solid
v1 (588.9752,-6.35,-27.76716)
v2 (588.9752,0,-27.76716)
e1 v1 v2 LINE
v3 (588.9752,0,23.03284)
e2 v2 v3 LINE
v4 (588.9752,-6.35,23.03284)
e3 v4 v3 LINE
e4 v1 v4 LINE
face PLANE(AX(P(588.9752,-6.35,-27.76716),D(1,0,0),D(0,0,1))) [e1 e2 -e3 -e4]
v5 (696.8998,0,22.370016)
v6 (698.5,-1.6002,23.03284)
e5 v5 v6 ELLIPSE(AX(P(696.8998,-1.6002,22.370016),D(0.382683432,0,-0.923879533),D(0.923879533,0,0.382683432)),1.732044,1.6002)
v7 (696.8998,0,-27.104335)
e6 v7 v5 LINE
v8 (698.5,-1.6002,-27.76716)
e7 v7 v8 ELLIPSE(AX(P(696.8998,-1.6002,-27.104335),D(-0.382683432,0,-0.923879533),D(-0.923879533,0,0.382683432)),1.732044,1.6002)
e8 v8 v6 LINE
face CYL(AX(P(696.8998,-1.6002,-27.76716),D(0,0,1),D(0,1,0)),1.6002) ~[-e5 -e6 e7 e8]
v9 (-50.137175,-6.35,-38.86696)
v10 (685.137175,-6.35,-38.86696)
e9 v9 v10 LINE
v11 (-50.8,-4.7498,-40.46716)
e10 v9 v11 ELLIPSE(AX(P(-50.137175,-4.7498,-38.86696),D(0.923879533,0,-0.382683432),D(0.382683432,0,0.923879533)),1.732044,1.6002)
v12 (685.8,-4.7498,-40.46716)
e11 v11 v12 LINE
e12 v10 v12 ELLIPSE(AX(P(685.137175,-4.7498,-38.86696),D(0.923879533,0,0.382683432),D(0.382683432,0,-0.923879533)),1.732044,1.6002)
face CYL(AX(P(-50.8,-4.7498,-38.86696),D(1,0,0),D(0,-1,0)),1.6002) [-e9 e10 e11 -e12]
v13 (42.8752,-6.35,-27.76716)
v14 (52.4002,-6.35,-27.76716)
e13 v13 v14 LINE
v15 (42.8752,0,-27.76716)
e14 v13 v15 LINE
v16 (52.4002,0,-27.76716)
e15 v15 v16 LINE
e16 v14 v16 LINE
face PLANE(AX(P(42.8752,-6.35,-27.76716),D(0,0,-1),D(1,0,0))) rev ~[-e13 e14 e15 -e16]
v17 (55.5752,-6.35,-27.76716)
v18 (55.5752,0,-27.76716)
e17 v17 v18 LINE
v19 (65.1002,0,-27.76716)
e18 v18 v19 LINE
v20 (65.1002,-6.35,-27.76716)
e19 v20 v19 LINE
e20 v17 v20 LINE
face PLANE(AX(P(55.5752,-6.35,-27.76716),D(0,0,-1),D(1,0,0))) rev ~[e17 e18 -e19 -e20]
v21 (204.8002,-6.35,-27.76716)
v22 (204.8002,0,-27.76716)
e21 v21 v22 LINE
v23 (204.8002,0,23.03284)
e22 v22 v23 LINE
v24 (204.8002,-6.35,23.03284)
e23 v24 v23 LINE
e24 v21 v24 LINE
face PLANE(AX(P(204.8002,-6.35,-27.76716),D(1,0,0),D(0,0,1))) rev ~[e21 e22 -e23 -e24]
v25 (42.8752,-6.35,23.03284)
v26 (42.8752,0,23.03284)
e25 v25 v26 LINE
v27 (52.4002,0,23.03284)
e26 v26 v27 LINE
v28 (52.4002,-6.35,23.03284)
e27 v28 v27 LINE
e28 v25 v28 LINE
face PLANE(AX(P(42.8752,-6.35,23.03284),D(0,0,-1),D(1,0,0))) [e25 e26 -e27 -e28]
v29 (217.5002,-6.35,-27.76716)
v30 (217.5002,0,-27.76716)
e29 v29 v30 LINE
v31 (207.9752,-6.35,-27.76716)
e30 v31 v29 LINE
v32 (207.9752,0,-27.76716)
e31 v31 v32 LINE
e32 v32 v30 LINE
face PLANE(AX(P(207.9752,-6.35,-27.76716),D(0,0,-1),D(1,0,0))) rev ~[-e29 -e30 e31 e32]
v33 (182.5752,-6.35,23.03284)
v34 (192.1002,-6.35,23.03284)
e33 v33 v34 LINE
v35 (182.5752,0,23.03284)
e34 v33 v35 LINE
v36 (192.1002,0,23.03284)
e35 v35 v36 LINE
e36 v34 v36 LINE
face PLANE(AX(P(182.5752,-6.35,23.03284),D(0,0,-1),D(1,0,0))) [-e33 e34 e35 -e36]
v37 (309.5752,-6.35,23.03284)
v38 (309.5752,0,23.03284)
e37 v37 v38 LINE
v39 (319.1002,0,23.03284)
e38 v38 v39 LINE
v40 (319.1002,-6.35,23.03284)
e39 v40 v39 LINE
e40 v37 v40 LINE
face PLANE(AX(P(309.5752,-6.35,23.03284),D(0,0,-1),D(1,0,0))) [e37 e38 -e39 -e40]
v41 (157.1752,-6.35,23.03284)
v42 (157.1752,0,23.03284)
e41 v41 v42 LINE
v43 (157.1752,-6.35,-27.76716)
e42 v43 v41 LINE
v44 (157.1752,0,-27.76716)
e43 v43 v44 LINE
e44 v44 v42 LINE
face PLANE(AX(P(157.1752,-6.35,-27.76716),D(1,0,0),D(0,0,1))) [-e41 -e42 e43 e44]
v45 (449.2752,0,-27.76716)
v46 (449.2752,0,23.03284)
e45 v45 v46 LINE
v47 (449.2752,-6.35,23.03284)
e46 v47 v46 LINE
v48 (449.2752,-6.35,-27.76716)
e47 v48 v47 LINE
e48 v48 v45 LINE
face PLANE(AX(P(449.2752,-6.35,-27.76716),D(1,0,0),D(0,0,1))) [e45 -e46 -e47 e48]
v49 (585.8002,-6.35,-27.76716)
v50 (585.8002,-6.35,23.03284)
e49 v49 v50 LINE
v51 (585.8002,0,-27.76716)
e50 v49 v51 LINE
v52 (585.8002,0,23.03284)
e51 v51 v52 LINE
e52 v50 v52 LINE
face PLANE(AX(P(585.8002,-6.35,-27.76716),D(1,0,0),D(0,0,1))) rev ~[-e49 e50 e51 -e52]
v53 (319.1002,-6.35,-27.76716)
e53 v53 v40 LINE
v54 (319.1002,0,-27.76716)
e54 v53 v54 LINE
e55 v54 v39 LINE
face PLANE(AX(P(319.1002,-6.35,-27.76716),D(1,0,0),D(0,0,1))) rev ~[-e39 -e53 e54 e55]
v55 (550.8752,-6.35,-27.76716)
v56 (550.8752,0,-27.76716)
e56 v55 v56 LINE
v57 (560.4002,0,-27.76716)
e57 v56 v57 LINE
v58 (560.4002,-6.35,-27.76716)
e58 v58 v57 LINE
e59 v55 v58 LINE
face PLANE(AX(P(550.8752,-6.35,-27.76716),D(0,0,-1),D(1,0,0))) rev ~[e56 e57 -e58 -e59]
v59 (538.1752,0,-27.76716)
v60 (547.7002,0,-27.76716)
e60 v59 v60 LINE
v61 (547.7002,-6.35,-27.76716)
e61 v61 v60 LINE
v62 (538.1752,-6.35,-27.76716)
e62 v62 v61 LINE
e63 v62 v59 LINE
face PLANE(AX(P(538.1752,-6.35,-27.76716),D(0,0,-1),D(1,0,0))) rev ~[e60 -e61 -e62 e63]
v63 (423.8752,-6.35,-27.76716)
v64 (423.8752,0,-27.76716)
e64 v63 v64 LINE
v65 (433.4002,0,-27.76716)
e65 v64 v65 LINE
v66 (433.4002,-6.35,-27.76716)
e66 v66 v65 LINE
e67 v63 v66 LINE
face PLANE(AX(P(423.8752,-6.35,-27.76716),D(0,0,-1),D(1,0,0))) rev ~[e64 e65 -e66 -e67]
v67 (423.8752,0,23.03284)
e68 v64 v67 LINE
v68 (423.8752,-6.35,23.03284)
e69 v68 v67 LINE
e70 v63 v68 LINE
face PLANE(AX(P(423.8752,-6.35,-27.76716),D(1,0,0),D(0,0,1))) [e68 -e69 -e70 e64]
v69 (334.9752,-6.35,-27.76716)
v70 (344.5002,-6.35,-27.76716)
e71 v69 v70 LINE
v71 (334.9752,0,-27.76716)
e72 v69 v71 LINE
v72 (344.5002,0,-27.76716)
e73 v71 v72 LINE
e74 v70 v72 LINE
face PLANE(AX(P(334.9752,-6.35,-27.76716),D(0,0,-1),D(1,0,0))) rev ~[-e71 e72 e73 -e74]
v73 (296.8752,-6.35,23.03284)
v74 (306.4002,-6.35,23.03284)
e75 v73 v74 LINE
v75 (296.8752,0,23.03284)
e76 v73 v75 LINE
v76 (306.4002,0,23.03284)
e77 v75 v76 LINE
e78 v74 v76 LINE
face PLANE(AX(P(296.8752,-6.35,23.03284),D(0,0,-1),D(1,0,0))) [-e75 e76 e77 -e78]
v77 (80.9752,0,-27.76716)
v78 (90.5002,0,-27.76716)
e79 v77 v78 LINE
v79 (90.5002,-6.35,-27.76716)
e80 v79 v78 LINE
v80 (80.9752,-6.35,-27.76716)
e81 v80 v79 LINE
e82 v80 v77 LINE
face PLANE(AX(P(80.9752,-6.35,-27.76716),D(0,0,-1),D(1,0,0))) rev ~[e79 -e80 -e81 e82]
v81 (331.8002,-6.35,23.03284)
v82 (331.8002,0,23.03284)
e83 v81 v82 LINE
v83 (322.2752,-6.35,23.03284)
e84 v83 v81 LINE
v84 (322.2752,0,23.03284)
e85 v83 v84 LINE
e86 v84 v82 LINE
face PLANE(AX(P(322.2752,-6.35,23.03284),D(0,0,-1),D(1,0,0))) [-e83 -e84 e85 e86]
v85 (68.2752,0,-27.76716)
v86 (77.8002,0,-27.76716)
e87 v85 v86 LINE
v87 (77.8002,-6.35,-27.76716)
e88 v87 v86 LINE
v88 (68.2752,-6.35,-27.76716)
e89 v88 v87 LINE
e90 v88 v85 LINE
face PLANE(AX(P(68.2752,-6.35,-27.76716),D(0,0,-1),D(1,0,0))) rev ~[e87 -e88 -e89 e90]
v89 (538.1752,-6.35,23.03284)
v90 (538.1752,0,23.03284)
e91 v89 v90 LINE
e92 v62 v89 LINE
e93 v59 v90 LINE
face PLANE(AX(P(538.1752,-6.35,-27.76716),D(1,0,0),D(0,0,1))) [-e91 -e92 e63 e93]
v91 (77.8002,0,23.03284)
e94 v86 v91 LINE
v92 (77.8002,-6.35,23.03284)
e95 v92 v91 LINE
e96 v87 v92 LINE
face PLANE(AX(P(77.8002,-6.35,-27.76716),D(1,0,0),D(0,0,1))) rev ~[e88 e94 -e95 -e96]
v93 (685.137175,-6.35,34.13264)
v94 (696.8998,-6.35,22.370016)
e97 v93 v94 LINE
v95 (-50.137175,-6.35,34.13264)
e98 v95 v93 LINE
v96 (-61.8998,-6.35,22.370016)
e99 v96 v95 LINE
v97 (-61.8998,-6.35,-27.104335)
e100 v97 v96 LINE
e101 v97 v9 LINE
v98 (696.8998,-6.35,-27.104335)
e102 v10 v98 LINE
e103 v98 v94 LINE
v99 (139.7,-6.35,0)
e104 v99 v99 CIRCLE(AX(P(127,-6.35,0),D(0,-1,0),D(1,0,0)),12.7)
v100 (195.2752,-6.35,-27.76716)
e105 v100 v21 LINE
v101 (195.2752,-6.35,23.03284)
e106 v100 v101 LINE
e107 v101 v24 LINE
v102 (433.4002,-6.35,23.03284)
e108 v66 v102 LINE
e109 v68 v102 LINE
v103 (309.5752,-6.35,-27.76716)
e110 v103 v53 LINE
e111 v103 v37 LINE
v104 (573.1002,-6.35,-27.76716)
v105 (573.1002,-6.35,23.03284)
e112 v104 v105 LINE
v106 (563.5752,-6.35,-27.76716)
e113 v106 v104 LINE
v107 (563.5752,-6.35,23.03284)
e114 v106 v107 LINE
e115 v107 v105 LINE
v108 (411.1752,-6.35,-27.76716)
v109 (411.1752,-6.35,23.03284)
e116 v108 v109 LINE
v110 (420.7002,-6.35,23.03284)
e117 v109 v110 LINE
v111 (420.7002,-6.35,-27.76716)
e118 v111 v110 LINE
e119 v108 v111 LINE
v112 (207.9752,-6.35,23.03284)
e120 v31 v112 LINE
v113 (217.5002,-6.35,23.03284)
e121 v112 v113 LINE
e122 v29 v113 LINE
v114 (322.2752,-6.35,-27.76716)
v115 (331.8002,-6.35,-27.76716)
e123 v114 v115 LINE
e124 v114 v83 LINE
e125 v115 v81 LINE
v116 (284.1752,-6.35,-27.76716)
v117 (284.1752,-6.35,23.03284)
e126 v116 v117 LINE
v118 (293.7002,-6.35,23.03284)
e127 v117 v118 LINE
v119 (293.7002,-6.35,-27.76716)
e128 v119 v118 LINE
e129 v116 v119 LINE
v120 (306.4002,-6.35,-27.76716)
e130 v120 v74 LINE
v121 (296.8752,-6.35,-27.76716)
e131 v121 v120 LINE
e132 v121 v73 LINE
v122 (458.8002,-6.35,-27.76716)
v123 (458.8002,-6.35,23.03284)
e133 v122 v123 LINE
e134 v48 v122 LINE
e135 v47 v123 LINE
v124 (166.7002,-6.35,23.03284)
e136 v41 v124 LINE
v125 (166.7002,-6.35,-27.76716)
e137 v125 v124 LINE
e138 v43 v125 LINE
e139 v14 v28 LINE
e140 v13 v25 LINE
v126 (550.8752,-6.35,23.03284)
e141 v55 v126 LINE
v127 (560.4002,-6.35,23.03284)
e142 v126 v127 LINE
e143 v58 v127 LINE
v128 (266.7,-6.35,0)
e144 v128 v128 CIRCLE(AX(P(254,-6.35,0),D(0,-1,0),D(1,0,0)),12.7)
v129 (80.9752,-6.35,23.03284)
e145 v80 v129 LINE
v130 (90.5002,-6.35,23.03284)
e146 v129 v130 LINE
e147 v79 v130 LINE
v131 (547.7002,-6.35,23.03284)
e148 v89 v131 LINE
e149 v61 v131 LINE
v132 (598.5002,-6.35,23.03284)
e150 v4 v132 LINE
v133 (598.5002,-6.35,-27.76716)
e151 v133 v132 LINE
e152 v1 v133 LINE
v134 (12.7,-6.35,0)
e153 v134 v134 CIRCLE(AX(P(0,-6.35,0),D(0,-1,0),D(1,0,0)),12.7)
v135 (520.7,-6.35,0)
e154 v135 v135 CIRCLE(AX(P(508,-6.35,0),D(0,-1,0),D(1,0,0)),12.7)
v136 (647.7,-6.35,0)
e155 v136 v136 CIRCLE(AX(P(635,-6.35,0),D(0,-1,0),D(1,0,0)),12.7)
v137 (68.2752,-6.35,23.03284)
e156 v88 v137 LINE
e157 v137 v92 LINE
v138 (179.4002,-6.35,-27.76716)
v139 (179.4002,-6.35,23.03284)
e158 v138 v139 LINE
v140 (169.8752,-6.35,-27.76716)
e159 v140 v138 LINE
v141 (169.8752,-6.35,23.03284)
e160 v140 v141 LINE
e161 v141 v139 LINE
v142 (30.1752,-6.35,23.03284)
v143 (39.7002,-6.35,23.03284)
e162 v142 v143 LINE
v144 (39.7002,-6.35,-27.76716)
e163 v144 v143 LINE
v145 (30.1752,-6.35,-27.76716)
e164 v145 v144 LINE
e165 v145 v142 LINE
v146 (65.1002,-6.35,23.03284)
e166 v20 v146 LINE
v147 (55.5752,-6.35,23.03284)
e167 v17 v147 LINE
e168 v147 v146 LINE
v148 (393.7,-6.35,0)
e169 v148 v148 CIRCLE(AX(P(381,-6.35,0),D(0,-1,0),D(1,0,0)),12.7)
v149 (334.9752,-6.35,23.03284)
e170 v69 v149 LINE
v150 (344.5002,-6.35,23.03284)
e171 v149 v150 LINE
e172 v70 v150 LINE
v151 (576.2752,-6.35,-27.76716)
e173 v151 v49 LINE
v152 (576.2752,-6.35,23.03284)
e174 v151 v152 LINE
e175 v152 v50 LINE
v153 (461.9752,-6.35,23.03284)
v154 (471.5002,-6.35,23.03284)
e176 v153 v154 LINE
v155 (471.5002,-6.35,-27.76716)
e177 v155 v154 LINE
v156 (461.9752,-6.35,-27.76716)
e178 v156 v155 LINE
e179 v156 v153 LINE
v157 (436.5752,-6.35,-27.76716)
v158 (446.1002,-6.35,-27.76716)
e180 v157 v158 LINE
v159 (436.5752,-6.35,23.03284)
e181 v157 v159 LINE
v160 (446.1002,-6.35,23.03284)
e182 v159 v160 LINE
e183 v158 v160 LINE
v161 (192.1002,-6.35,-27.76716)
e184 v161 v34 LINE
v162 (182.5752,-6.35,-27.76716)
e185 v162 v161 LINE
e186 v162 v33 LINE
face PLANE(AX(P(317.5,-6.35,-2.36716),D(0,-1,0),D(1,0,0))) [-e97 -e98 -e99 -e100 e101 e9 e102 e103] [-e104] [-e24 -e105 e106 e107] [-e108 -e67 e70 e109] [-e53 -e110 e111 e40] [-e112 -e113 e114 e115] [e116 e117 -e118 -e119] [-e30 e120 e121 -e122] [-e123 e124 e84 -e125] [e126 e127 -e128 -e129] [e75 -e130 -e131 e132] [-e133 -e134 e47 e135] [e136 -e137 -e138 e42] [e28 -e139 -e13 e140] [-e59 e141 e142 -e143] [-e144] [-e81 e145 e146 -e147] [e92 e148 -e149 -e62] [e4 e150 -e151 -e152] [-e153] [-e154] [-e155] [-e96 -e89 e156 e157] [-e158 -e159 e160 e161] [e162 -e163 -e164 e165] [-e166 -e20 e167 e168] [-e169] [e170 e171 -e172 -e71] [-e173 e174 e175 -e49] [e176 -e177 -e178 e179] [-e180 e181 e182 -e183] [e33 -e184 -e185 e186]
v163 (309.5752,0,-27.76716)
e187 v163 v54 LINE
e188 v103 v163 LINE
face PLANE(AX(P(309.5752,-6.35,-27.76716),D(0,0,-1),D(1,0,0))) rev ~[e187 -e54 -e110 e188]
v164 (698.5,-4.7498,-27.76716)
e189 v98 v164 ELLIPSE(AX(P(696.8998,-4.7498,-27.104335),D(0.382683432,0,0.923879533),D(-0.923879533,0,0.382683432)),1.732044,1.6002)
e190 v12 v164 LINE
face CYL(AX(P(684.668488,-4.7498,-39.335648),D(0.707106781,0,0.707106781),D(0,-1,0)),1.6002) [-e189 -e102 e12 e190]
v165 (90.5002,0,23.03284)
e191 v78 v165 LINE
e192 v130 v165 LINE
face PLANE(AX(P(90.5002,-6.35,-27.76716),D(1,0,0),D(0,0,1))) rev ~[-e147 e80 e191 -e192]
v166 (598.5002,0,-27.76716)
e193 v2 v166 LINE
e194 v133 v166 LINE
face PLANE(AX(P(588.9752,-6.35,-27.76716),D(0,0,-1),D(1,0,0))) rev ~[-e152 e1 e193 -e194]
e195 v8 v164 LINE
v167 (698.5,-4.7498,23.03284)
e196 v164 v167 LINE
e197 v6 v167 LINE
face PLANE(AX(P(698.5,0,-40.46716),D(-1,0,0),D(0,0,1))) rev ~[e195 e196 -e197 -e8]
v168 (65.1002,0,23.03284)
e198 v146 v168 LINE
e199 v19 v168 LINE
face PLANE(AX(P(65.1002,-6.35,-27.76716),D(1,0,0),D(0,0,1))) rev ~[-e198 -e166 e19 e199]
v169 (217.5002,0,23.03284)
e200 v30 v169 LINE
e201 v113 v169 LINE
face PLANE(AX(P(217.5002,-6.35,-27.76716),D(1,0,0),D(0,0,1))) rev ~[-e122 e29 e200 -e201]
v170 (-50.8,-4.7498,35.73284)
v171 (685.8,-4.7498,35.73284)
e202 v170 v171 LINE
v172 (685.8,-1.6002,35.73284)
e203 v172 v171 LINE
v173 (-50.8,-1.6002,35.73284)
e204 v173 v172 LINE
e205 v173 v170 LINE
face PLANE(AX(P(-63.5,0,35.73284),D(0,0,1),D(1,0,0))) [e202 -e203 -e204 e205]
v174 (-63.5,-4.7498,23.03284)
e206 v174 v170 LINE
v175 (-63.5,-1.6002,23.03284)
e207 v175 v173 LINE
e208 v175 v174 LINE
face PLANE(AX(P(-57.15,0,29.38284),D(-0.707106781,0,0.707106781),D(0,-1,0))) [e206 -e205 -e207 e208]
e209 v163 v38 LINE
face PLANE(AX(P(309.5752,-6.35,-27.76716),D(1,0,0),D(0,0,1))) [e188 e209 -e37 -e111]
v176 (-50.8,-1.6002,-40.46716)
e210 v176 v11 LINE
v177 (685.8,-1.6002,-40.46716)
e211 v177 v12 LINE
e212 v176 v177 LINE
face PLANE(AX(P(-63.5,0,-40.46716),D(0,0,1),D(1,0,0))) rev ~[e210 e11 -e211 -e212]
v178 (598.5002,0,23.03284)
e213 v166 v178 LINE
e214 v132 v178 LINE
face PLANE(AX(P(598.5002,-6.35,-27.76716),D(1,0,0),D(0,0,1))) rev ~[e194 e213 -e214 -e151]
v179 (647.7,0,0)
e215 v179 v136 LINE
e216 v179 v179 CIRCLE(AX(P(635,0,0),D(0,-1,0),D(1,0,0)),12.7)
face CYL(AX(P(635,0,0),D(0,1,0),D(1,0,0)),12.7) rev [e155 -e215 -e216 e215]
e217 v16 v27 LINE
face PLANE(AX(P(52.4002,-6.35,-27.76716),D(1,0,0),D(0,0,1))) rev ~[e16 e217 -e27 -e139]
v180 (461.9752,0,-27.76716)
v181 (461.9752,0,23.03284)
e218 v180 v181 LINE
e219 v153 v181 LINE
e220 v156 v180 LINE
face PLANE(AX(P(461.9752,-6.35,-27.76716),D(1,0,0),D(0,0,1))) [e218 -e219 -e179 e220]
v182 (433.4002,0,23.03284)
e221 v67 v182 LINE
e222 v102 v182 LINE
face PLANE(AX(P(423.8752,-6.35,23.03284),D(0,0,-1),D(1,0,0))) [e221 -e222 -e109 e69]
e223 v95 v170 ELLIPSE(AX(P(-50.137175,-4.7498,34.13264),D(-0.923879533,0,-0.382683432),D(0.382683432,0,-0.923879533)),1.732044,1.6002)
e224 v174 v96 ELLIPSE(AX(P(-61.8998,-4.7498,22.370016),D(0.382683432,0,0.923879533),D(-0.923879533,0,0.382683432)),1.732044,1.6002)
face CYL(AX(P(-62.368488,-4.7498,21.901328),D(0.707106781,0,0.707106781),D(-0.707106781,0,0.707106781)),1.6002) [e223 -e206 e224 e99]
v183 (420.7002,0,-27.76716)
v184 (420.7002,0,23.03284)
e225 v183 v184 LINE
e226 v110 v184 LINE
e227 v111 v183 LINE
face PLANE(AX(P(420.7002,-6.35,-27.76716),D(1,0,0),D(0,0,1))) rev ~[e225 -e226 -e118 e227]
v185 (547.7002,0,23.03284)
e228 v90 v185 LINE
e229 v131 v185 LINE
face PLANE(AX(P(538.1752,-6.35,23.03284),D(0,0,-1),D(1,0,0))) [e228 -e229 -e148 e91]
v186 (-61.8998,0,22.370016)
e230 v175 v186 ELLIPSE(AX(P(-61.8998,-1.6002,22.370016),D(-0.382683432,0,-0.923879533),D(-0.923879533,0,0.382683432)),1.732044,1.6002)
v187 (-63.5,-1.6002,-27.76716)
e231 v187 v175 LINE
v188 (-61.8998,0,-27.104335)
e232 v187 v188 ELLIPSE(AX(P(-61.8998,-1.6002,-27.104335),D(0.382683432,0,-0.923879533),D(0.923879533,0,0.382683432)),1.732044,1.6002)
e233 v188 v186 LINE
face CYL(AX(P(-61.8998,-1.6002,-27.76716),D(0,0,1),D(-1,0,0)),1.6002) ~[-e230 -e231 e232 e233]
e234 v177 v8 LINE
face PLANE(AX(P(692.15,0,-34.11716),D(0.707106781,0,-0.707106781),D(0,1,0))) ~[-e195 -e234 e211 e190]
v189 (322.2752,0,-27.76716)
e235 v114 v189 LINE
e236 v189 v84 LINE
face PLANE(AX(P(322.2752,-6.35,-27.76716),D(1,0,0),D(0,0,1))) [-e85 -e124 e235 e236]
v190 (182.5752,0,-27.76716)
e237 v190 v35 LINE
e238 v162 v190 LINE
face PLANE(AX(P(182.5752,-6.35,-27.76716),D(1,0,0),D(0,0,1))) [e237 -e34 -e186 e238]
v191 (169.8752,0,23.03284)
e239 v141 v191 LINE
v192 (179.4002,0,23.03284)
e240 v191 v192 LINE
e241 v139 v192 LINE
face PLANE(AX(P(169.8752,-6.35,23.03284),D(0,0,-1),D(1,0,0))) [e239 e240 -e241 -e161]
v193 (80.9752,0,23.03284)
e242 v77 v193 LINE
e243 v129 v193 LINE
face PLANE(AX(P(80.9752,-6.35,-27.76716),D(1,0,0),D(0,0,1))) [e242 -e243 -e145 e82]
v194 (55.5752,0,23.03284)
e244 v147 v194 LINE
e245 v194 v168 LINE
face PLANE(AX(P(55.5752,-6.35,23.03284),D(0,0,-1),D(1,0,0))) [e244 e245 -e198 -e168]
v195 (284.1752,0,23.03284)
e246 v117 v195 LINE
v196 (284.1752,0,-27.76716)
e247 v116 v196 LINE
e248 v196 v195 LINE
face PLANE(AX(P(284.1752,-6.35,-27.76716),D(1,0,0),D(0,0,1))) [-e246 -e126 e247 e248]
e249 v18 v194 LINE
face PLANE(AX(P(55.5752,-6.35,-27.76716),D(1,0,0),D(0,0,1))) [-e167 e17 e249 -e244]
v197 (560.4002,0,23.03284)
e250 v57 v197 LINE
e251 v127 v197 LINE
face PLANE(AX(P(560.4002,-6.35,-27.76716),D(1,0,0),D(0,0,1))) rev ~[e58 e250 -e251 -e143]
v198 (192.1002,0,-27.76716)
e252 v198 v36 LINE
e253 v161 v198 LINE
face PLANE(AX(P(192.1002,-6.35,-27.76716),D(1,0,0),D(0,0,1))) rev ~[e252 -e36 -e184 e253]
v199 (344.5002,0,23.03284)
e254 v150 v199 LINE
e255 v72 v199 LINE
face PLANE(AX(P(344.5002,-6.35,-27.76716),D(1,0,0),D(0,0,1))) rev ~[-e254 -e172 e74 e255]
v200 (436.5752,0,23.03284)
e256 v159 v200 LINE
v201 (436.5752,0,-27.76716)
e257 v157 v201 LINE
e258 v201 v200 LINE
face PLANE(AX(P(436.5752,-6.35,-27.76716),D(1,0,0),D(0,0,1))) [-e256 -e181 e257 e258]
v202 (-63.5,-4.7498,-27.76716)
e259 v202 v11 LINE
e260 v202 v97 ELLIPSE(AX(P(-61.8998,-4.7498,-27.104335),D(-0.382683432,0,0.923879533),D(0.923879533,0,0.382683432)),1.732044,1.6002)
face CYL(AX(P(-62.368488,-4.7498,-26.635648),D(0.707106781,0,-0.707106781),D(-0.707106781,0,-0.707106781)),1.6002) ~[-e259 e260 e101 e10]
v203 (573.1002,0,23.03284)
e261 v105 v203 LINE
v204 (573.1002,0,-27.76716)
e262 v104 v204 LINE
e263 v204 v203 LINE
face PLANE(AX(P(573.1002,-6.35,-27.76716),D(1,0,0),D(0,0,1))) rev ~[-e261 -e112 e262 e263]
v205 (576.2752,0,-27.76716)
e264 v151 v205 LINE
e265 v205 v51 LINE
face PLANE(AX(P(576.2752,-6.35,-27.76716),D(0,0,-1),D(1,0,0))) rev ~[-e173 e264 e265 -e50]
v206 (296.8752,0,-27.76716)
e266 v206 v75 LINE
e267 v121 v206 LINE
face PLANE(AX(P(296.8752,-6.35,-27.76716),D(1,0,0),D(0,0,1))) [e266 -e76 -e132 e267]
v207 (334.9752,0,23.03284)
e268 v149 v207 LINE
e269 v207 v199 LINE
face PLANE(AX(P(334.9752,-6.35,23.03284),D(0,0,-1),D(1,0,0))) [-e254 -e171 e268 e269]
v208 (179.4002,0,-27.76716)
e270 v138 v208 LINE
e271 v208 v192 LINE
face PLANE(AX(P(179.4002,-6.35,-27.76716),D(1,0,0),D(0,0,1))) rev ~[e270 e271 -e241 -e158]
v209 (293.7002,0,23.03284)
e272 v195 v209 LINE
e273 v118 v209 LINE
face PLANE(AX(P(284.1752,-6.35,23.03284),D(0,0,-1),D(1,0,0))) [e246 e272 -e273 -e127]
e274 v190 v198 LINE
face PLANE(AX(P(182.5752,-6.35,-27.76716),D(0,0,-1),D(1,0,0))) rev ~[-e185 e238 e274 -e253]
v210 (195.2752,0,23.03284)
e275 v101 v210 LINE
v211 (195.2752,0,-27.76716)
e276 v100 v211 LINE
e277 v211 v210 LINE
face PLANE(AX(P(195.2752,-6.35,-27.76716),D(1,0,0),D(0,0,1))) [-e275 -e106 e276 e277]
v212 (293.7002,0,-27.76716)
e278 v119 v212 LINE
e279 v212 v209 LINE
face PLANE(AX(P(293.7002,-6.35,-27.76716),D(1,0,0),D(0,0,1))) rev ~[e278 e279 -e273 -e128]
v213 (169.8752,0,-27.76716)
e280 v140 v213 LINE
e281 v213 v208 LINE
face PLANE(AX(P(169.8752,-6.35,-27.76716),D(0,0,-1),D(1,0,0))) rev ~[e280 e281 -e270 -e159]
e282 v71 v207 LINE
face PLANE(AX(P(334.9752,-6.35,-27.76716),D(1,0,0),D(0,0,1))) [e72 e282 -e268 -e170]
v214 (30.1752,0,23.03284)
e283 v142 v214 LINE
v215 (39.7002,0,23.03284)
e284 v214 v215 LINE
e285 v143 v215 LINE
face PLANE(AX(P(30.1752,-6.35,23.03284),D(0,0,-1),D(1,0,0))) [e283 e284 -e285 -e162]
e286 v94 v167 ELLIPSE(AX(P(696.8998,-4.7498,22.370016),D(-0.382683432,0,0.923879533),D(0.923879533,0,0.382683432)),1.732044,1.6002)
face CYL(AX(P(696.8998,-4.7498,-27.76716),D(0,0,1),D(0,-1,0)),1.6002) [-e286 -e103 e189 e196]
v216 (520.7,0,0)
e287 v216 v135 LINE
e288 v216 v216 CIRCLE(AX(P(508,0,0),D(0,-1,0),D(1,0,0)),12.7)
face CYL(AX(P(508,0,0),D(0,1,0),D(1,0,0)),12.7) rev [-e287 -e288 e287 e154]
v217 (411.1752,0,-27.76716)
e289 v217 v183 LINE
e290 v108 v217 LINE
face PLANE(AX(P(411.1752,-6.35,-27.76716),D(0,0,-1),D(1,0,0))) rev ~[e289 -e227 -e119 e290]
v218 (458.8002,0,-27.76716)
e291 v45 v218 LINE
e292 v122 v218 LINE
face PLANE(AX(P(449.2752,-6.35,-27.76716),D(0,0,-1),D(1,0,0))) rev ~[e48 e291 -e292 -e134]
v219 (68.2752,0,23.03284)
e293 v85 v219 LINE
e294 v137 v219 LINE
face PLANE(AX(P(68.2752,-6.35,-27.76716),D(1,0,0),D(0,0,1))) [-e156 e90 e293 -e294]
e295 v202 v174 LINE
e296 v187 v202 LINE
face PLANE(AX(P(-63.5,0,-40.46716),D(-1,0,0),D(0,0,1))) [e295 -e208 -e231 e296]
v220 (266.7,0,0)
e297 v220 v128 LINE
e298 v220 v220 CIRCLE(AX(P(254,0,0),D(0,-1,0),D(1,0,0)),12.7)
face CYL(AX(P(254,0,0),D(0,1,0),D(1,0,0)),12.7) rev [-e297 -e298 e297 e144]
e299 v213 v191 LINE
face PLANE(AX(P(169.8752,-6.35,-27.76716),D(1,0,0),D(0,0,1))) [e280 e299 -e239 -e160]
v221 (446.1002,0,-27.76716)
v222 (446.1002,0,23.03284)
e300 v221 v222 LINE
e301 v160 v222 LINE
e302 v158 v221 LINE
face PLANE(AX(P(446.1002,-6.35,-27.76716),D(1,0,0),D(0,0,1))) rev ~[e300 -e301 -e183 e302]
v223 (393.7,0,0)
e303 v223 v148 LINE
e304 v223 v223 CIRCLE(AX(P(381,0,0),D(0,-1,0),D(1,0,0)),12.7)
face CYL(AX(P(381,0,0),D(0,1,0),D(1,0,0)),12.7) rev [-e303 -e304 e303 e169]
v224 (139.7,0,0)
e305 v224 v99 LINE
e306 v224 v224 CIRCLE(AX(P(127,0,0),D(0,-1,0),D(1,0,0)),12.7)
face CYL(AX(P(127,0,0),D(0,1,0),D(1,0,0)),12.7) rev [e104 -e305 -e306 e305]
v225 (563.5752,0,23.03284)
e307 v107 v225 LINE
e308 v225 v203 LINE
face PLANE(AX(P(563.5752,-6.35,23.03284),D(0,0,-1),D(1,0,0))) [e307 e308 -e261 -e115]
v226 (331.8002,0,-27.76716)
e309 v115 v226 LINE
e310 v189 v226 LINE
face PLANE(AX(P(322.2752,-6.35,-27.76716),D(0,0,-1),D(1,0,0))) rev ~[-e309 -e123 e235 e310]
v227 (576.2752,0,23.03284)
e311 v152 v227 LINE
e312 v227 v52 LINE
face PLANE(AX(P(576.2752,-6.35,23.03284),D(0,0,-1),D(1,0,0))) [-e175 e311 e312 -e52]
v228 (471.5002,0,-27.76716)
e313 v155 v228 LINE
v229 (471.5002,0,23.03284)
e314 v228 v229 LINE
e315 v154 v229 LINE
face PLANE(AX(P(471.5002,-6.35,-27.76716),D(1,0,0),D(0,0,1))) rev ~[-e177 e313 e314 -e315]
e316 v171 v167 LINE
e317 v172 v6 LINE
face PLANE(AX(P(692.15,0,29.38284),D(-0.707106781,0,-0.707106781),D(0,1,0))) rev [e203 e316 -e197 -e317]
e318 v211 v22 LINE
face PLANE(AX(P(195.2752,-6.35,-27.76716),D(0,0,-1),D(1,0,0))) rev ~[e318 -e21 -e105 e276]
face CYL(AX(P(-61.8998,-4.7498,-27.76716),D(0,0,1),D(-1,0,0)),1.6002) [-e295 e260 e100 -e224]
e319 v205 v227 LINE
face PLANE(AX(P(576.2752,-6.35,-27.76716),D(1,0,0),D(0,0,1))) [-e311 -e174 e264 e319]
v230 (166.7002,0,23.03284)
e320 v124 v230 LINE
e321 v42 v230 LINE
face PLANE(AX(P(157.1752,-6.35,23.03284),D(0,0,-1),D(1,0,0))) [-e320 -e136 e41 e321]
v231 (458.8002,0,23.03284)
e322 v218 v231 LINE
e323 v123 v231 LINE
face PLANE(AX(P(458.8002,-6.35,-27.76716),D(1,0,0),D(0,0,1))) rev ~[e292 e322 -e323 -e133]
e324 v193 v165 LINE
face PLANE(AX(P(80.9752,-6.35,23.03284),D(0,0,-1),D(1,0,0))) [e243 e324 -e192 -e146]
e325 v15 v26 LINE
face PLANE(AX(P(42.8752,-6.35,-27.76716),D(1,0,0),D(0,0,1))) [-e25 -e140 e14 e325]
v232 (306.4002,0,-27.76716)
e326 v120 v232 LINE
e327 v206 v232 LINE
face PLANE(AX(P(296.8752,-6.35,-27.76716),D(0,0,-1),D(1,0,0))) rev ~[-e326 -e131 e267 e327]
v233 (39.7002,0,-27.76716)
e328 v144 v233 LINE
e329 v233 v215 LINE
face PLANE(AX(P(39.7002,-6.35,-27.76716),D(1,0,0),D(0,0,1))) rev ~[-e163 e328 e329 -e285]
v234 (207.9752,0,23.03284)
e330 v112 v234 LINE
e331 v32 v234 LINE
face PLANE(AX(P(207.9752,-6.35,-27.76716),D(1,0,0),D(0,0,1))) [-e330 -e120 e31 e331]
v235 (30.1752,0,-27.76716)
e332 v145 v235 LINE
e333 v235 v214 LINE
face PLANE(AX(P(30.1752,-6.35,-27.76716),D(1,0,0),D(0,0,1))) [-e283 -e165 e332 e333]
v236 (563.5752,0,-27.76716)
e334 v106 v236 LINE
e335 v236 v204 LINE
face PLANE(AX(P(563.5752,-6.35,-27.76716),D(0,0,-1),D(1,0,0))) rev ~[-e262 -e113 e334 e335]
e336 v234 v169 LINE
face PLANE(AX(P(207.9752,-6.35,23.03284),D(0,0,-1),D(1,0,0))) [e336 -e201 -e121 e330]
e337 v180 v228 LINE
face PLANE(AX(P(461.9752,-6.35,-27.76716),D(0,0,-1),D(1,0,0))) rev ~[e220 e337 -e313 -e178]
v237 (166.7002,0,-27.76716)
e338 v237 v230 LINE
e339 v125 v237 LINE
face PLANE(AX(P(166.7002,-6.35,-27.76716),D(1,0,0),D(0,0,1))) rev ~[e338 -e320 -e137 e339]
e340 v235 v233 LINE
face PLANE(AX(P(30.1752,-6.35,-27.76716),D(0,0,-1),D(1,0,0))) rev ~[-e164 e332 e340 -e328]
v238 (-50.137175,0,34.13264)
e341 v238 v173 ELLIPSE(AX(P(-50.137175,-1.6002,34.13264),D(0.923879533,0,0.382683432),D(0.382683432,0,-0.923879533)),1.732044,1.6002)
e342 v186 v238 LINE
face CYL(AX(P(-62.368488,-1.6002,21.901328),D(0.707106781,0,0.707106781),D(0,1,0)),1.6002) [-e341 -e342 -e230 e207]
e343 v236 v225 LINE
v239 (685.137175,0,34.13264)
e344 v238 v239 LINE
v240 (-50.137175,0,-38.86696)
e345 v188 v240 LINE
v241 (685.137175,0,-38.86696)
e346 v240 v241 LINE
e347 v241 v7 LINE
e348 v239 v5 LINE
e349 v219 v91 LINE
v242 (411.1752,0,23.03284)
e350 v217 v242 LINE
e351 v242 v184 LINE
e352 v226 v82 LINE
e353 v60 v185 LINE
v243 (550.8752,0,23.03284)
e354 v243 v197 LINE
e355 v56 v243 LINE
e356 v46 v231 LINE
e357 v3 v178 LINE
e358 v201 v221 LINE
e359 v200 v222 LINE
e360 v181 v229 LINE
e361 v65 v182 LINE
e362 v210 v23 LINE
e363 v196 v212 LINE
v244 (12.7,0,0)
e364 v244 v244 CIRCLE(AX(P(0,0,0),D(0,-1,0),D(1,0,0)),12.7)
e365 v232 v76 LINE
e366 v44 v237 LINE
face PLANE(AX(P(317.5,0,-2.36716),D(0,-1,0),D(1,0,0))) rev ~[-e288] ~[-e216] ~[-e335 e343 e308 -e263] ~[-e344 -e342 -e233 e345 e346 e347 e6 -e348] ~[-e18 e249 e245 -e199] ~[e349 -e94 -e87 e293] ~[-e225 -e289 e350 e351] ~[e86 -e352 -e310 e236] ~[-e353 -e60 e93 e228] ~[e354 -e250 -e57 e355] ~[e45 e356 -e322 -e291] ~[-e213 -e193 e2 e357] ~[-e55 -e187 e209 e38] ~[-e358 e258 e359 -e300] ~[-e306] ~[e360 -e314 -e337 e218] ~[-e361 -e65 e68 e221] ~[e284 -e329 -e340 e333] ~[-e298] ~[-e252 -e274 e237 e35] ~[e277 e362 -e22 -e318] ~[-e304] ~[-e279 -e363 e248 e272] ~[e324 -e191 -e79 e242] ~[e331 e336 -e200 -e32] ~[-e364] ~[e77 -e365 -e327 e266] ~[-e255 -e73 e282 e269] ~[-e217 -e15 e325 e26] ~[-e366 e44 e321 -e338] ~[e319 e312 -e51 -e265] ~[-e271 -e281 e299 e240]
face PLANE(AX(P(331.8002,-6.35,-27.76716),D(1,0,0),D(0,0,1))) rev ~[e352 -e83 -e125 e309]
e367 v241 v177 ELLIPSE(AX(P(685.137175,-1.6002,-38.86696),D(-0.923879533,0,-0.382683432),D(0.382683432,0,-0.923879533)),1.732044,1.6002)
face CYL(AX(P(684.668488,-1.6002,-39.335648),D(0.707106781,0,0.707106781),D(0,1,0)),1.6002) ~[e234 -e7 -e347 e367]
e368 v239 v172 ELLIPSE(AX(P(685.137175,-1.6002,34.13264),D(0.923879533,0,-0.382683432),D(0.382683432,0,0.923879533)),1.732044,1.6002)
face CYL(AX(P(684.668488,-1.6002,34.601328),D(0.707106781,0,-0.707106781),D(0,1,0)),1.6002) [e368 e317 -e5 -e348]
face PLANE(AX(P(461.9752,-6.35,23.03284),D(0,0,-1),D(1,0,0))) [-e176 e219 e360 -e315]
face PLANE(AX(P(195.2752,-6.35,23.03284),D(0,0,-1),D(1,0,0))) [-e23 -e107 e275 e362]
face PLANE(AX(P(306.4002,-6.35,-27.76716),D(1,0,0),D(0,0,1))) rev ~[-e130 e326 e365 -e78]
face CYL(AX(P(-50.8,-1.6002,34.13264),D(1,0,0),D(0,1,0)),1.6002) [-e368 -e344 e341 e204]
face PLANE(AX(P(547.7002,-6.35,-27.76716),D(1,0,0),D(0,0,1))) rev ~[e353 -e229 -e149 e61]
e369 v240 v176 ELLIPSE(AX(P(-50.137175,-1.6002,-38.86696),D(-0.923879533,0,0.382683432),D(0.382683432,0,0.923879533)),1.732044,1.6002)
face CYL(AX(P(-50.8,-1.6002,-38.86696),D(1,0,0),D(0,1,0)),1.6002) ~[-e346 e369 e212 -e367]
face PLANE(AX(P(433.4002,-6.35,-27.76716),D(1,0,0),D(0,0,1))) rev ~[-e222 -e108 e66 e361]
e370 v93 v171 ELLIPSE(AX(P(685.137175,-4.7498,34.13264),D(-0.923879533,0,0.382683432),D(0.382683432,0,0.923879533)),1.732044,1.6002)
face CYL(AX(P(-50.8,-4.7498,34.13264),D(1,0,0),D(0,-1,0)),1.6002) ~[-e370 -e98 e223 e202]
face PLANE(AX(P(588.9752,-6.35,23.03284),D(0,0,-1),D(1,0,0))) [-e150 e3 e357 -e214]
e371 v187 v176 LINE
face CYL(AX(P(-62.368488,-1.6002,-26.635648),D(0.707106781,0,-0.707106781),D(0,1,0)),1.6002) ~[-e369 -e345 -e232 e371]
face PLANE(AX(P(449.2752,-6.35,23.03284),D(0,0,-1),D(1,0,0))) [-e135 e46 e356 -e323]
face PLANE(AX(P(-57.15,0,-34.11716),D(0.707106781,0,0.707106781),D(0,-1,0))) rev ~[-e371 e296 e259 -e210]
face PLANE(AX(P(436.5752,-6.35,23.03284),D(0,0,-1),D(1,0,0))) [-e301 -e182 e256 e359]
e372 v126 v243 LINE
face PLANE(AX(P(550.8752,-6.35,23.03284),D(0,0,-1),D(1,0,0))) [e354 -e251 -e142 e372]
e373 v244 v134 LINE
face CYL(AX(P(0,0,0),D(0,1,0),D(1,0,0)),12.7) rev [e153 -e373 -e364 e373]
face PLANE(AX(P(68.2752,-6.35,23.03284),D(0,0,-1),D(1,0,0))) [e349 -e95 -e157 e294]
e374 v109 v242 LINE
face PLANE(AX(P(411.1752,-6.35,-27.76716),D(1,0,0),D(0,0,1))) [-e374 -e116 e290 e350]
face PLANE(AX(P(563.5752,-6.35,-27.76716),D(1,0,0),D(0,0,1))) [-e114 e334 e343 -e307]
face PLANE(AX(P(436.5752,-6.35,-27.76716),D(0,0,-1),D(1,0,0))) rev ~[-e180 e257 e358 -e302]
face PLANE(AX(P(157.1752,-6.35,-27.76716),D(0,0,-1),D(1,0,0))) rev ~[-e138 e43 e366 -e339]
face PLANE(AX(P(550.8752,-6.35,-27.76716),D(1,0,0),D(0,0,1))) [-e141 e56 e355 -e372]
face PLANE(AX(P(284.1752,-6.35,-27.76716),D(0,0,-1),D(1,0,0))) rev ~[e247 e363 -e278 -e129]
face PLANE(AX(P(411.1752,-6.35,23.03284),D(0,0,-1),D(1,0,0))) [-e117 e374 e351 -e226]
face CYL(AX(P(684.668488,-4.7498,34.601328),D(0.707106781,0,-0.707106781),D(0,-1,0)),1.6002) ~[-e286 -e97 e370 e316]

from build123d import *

# Parameters (mm, degrees)
F0_W     = 762
F0_H     = 76.2
F0_R     = 12.7
F1_DEPTH = 6.35
F2_W     = 9.525
F2_H     = 50.8
F3_DEPTH = 6.351
F4_SIZE  = 12.7
F5_R     = 1.6002


with BuildPart() as f1:
    # F0 (on Front) → F1 (new body)
    with BuildSketch(Plane.XZ):
        with Locations((317.5, -2.3671598174)):
            Rectangle(F0_W, F0_H)
        Circle(F0_R, mode=Mode.SUBTRACT)
        with Locations((127, 0)):
            Circle(F0_R, mode=Mode.SUBTRACT)
        with Locations((254, 0)):
            Circle(F0_R, mode=Mode.SUBTRACT)
        with Locations((381, 0)):
            Circle(F0_R, mode=Mode.SUBTRACT)
        with Locations((508, 0)):
            Circle(F0_R, mode=Mode.SUBTRACT)
        with Locations((635, 0)):
            Circle(F0_R, mode=Mode.SUBTRACT)
    extrude(amount=F1_DEPTH)

    # F2 (on face) → F3 (cut, through all)
    with BuildSketch(Plane.XZ.offset(6.35)):
        with Locations((34.9377, -2.3671598174)):
            Rectangle(F2_W, F2_H)
        with Locations((47.6377, -2.3671598174)):
            Rectangle(F2_W, F2_H)
        with Locations((60.3377, -2.3671598174)):
            Rectangle(F2_W, F2_H)
        with Locations((73.0377, -2.3671598174)):
            Rectangle(F2_W, F2_H)
        with Locations((85.7377, -2.3671598174)):
            Rectangle(F2_W, F2_H)
        with Locations((161.9377, -2.3671598174)):
            Rectangle(F2_W, F2_H)
        with Locations((174.6377, -2.3671598174)):
            Rectangle(F2_W, F2_H)
        with Locations((187.3377, -2.3671598174)):
            Rectangle(F2_W, F2_H)
        with Locations((200.0377, -2.3671598174)):
            Rectangle(F2_W, F2_H)
        with Locations((212.7377, -2.3671598174)):
            Rectangle(F2_W, F2_H)
        with Locations((288.9377, -2.3671598174)):
            Rectangle(F2_W, F2_H)
        with Locations((301.6377, -2.3671598174)):
            Rectangle(F2_W, F2_H)
        with Locations((314.3377, -2.3671598174)):
            Rectangle(F2_W, F2_H)
        with Locations((327.0377, -2.3671598174)):
            Rectangle(F2_W, F2_H)
        with Locations((339.7377, -2.3671598174)):
            Rectangle(F2_W, F2_H)
        with Locations((415.9377, -2.3671598174)):
            Rectangle(F2_W, F2_H)
        with Locations((428.6377, -2.3671598174)):
            Rectangle(F2_W, F2_H)
        with Locations((441.3377, -2.3671598174)):
            Rectangle(F2_W, F2_H)
        with Locations((454.0377, -2.3671598174)):
            Rectangle(F2_W, F2_H)
        with Locations((466.7377, -2.3671598174)):
            Rectangle(F2_W, F2_H)
        with Locations((542.9377, -2.3671598174)):
            Rectangle(F2_W, F2_H)
        with Locations((555.6377, -2.3671598174)):
            Rectangle(F2_W, F2_H)
        with Locations((568.3377, -2.3671598174)):
            Rectangle(F2_W, F2_H)
        with Locations((581.0377, -2.3671598174)):
            Rectangle(F2_W, F2_H)
        with Locations((593.7377, -2.3671598174)):
            Rectangle(F2_W, F2_H)
    extrude(amount=-F3_DEPTH, mode=Mode.SUBTRACT)

    # F4
    f4_edges = [f1.edges().sort_by_distance(p)[0] for p in [
        (-63.5, -3.175, 35.73284),
        (-63.5, -3.175, -40.46716),
        (698.5, -3.175, 35.73284),
        (698.5, -3.175, -40.46716),
    ]]
    chamfer(f4_edges, length=F4_SIZE)

    # F5
    f5_edges = [f1.edges().sort_by_distance(p)[0] for p in [
        (317.5, -6.35, 35.73284),
        (317.5, 0, 35.73284),
        (317.5, -6.35, -40.46716),
        (317.5, 0, -40.46716),
        (-63.5, -6.35, -2.36716),
        (-63.5, 0, -2.36716),
        (698.5, -6.35, -2.36716),
        (698.5, 0, -2.36716),
        (-57.15, -6.35, -34.11716),
        (-57.15, 0, -34.11716),
        (692.15, -6.35, 29.38284),
        (692.15, 0, 29.38284),
        (692.15, -6.35, -34.11716),
        (692.15, 0, -34.11716),
        (-57.15, -6.35, 29.38284),
        (-57.15, 0, 29.38284),
    ]]
    fillet(f5_edges, radius=F5_R)


solid = f1.part
